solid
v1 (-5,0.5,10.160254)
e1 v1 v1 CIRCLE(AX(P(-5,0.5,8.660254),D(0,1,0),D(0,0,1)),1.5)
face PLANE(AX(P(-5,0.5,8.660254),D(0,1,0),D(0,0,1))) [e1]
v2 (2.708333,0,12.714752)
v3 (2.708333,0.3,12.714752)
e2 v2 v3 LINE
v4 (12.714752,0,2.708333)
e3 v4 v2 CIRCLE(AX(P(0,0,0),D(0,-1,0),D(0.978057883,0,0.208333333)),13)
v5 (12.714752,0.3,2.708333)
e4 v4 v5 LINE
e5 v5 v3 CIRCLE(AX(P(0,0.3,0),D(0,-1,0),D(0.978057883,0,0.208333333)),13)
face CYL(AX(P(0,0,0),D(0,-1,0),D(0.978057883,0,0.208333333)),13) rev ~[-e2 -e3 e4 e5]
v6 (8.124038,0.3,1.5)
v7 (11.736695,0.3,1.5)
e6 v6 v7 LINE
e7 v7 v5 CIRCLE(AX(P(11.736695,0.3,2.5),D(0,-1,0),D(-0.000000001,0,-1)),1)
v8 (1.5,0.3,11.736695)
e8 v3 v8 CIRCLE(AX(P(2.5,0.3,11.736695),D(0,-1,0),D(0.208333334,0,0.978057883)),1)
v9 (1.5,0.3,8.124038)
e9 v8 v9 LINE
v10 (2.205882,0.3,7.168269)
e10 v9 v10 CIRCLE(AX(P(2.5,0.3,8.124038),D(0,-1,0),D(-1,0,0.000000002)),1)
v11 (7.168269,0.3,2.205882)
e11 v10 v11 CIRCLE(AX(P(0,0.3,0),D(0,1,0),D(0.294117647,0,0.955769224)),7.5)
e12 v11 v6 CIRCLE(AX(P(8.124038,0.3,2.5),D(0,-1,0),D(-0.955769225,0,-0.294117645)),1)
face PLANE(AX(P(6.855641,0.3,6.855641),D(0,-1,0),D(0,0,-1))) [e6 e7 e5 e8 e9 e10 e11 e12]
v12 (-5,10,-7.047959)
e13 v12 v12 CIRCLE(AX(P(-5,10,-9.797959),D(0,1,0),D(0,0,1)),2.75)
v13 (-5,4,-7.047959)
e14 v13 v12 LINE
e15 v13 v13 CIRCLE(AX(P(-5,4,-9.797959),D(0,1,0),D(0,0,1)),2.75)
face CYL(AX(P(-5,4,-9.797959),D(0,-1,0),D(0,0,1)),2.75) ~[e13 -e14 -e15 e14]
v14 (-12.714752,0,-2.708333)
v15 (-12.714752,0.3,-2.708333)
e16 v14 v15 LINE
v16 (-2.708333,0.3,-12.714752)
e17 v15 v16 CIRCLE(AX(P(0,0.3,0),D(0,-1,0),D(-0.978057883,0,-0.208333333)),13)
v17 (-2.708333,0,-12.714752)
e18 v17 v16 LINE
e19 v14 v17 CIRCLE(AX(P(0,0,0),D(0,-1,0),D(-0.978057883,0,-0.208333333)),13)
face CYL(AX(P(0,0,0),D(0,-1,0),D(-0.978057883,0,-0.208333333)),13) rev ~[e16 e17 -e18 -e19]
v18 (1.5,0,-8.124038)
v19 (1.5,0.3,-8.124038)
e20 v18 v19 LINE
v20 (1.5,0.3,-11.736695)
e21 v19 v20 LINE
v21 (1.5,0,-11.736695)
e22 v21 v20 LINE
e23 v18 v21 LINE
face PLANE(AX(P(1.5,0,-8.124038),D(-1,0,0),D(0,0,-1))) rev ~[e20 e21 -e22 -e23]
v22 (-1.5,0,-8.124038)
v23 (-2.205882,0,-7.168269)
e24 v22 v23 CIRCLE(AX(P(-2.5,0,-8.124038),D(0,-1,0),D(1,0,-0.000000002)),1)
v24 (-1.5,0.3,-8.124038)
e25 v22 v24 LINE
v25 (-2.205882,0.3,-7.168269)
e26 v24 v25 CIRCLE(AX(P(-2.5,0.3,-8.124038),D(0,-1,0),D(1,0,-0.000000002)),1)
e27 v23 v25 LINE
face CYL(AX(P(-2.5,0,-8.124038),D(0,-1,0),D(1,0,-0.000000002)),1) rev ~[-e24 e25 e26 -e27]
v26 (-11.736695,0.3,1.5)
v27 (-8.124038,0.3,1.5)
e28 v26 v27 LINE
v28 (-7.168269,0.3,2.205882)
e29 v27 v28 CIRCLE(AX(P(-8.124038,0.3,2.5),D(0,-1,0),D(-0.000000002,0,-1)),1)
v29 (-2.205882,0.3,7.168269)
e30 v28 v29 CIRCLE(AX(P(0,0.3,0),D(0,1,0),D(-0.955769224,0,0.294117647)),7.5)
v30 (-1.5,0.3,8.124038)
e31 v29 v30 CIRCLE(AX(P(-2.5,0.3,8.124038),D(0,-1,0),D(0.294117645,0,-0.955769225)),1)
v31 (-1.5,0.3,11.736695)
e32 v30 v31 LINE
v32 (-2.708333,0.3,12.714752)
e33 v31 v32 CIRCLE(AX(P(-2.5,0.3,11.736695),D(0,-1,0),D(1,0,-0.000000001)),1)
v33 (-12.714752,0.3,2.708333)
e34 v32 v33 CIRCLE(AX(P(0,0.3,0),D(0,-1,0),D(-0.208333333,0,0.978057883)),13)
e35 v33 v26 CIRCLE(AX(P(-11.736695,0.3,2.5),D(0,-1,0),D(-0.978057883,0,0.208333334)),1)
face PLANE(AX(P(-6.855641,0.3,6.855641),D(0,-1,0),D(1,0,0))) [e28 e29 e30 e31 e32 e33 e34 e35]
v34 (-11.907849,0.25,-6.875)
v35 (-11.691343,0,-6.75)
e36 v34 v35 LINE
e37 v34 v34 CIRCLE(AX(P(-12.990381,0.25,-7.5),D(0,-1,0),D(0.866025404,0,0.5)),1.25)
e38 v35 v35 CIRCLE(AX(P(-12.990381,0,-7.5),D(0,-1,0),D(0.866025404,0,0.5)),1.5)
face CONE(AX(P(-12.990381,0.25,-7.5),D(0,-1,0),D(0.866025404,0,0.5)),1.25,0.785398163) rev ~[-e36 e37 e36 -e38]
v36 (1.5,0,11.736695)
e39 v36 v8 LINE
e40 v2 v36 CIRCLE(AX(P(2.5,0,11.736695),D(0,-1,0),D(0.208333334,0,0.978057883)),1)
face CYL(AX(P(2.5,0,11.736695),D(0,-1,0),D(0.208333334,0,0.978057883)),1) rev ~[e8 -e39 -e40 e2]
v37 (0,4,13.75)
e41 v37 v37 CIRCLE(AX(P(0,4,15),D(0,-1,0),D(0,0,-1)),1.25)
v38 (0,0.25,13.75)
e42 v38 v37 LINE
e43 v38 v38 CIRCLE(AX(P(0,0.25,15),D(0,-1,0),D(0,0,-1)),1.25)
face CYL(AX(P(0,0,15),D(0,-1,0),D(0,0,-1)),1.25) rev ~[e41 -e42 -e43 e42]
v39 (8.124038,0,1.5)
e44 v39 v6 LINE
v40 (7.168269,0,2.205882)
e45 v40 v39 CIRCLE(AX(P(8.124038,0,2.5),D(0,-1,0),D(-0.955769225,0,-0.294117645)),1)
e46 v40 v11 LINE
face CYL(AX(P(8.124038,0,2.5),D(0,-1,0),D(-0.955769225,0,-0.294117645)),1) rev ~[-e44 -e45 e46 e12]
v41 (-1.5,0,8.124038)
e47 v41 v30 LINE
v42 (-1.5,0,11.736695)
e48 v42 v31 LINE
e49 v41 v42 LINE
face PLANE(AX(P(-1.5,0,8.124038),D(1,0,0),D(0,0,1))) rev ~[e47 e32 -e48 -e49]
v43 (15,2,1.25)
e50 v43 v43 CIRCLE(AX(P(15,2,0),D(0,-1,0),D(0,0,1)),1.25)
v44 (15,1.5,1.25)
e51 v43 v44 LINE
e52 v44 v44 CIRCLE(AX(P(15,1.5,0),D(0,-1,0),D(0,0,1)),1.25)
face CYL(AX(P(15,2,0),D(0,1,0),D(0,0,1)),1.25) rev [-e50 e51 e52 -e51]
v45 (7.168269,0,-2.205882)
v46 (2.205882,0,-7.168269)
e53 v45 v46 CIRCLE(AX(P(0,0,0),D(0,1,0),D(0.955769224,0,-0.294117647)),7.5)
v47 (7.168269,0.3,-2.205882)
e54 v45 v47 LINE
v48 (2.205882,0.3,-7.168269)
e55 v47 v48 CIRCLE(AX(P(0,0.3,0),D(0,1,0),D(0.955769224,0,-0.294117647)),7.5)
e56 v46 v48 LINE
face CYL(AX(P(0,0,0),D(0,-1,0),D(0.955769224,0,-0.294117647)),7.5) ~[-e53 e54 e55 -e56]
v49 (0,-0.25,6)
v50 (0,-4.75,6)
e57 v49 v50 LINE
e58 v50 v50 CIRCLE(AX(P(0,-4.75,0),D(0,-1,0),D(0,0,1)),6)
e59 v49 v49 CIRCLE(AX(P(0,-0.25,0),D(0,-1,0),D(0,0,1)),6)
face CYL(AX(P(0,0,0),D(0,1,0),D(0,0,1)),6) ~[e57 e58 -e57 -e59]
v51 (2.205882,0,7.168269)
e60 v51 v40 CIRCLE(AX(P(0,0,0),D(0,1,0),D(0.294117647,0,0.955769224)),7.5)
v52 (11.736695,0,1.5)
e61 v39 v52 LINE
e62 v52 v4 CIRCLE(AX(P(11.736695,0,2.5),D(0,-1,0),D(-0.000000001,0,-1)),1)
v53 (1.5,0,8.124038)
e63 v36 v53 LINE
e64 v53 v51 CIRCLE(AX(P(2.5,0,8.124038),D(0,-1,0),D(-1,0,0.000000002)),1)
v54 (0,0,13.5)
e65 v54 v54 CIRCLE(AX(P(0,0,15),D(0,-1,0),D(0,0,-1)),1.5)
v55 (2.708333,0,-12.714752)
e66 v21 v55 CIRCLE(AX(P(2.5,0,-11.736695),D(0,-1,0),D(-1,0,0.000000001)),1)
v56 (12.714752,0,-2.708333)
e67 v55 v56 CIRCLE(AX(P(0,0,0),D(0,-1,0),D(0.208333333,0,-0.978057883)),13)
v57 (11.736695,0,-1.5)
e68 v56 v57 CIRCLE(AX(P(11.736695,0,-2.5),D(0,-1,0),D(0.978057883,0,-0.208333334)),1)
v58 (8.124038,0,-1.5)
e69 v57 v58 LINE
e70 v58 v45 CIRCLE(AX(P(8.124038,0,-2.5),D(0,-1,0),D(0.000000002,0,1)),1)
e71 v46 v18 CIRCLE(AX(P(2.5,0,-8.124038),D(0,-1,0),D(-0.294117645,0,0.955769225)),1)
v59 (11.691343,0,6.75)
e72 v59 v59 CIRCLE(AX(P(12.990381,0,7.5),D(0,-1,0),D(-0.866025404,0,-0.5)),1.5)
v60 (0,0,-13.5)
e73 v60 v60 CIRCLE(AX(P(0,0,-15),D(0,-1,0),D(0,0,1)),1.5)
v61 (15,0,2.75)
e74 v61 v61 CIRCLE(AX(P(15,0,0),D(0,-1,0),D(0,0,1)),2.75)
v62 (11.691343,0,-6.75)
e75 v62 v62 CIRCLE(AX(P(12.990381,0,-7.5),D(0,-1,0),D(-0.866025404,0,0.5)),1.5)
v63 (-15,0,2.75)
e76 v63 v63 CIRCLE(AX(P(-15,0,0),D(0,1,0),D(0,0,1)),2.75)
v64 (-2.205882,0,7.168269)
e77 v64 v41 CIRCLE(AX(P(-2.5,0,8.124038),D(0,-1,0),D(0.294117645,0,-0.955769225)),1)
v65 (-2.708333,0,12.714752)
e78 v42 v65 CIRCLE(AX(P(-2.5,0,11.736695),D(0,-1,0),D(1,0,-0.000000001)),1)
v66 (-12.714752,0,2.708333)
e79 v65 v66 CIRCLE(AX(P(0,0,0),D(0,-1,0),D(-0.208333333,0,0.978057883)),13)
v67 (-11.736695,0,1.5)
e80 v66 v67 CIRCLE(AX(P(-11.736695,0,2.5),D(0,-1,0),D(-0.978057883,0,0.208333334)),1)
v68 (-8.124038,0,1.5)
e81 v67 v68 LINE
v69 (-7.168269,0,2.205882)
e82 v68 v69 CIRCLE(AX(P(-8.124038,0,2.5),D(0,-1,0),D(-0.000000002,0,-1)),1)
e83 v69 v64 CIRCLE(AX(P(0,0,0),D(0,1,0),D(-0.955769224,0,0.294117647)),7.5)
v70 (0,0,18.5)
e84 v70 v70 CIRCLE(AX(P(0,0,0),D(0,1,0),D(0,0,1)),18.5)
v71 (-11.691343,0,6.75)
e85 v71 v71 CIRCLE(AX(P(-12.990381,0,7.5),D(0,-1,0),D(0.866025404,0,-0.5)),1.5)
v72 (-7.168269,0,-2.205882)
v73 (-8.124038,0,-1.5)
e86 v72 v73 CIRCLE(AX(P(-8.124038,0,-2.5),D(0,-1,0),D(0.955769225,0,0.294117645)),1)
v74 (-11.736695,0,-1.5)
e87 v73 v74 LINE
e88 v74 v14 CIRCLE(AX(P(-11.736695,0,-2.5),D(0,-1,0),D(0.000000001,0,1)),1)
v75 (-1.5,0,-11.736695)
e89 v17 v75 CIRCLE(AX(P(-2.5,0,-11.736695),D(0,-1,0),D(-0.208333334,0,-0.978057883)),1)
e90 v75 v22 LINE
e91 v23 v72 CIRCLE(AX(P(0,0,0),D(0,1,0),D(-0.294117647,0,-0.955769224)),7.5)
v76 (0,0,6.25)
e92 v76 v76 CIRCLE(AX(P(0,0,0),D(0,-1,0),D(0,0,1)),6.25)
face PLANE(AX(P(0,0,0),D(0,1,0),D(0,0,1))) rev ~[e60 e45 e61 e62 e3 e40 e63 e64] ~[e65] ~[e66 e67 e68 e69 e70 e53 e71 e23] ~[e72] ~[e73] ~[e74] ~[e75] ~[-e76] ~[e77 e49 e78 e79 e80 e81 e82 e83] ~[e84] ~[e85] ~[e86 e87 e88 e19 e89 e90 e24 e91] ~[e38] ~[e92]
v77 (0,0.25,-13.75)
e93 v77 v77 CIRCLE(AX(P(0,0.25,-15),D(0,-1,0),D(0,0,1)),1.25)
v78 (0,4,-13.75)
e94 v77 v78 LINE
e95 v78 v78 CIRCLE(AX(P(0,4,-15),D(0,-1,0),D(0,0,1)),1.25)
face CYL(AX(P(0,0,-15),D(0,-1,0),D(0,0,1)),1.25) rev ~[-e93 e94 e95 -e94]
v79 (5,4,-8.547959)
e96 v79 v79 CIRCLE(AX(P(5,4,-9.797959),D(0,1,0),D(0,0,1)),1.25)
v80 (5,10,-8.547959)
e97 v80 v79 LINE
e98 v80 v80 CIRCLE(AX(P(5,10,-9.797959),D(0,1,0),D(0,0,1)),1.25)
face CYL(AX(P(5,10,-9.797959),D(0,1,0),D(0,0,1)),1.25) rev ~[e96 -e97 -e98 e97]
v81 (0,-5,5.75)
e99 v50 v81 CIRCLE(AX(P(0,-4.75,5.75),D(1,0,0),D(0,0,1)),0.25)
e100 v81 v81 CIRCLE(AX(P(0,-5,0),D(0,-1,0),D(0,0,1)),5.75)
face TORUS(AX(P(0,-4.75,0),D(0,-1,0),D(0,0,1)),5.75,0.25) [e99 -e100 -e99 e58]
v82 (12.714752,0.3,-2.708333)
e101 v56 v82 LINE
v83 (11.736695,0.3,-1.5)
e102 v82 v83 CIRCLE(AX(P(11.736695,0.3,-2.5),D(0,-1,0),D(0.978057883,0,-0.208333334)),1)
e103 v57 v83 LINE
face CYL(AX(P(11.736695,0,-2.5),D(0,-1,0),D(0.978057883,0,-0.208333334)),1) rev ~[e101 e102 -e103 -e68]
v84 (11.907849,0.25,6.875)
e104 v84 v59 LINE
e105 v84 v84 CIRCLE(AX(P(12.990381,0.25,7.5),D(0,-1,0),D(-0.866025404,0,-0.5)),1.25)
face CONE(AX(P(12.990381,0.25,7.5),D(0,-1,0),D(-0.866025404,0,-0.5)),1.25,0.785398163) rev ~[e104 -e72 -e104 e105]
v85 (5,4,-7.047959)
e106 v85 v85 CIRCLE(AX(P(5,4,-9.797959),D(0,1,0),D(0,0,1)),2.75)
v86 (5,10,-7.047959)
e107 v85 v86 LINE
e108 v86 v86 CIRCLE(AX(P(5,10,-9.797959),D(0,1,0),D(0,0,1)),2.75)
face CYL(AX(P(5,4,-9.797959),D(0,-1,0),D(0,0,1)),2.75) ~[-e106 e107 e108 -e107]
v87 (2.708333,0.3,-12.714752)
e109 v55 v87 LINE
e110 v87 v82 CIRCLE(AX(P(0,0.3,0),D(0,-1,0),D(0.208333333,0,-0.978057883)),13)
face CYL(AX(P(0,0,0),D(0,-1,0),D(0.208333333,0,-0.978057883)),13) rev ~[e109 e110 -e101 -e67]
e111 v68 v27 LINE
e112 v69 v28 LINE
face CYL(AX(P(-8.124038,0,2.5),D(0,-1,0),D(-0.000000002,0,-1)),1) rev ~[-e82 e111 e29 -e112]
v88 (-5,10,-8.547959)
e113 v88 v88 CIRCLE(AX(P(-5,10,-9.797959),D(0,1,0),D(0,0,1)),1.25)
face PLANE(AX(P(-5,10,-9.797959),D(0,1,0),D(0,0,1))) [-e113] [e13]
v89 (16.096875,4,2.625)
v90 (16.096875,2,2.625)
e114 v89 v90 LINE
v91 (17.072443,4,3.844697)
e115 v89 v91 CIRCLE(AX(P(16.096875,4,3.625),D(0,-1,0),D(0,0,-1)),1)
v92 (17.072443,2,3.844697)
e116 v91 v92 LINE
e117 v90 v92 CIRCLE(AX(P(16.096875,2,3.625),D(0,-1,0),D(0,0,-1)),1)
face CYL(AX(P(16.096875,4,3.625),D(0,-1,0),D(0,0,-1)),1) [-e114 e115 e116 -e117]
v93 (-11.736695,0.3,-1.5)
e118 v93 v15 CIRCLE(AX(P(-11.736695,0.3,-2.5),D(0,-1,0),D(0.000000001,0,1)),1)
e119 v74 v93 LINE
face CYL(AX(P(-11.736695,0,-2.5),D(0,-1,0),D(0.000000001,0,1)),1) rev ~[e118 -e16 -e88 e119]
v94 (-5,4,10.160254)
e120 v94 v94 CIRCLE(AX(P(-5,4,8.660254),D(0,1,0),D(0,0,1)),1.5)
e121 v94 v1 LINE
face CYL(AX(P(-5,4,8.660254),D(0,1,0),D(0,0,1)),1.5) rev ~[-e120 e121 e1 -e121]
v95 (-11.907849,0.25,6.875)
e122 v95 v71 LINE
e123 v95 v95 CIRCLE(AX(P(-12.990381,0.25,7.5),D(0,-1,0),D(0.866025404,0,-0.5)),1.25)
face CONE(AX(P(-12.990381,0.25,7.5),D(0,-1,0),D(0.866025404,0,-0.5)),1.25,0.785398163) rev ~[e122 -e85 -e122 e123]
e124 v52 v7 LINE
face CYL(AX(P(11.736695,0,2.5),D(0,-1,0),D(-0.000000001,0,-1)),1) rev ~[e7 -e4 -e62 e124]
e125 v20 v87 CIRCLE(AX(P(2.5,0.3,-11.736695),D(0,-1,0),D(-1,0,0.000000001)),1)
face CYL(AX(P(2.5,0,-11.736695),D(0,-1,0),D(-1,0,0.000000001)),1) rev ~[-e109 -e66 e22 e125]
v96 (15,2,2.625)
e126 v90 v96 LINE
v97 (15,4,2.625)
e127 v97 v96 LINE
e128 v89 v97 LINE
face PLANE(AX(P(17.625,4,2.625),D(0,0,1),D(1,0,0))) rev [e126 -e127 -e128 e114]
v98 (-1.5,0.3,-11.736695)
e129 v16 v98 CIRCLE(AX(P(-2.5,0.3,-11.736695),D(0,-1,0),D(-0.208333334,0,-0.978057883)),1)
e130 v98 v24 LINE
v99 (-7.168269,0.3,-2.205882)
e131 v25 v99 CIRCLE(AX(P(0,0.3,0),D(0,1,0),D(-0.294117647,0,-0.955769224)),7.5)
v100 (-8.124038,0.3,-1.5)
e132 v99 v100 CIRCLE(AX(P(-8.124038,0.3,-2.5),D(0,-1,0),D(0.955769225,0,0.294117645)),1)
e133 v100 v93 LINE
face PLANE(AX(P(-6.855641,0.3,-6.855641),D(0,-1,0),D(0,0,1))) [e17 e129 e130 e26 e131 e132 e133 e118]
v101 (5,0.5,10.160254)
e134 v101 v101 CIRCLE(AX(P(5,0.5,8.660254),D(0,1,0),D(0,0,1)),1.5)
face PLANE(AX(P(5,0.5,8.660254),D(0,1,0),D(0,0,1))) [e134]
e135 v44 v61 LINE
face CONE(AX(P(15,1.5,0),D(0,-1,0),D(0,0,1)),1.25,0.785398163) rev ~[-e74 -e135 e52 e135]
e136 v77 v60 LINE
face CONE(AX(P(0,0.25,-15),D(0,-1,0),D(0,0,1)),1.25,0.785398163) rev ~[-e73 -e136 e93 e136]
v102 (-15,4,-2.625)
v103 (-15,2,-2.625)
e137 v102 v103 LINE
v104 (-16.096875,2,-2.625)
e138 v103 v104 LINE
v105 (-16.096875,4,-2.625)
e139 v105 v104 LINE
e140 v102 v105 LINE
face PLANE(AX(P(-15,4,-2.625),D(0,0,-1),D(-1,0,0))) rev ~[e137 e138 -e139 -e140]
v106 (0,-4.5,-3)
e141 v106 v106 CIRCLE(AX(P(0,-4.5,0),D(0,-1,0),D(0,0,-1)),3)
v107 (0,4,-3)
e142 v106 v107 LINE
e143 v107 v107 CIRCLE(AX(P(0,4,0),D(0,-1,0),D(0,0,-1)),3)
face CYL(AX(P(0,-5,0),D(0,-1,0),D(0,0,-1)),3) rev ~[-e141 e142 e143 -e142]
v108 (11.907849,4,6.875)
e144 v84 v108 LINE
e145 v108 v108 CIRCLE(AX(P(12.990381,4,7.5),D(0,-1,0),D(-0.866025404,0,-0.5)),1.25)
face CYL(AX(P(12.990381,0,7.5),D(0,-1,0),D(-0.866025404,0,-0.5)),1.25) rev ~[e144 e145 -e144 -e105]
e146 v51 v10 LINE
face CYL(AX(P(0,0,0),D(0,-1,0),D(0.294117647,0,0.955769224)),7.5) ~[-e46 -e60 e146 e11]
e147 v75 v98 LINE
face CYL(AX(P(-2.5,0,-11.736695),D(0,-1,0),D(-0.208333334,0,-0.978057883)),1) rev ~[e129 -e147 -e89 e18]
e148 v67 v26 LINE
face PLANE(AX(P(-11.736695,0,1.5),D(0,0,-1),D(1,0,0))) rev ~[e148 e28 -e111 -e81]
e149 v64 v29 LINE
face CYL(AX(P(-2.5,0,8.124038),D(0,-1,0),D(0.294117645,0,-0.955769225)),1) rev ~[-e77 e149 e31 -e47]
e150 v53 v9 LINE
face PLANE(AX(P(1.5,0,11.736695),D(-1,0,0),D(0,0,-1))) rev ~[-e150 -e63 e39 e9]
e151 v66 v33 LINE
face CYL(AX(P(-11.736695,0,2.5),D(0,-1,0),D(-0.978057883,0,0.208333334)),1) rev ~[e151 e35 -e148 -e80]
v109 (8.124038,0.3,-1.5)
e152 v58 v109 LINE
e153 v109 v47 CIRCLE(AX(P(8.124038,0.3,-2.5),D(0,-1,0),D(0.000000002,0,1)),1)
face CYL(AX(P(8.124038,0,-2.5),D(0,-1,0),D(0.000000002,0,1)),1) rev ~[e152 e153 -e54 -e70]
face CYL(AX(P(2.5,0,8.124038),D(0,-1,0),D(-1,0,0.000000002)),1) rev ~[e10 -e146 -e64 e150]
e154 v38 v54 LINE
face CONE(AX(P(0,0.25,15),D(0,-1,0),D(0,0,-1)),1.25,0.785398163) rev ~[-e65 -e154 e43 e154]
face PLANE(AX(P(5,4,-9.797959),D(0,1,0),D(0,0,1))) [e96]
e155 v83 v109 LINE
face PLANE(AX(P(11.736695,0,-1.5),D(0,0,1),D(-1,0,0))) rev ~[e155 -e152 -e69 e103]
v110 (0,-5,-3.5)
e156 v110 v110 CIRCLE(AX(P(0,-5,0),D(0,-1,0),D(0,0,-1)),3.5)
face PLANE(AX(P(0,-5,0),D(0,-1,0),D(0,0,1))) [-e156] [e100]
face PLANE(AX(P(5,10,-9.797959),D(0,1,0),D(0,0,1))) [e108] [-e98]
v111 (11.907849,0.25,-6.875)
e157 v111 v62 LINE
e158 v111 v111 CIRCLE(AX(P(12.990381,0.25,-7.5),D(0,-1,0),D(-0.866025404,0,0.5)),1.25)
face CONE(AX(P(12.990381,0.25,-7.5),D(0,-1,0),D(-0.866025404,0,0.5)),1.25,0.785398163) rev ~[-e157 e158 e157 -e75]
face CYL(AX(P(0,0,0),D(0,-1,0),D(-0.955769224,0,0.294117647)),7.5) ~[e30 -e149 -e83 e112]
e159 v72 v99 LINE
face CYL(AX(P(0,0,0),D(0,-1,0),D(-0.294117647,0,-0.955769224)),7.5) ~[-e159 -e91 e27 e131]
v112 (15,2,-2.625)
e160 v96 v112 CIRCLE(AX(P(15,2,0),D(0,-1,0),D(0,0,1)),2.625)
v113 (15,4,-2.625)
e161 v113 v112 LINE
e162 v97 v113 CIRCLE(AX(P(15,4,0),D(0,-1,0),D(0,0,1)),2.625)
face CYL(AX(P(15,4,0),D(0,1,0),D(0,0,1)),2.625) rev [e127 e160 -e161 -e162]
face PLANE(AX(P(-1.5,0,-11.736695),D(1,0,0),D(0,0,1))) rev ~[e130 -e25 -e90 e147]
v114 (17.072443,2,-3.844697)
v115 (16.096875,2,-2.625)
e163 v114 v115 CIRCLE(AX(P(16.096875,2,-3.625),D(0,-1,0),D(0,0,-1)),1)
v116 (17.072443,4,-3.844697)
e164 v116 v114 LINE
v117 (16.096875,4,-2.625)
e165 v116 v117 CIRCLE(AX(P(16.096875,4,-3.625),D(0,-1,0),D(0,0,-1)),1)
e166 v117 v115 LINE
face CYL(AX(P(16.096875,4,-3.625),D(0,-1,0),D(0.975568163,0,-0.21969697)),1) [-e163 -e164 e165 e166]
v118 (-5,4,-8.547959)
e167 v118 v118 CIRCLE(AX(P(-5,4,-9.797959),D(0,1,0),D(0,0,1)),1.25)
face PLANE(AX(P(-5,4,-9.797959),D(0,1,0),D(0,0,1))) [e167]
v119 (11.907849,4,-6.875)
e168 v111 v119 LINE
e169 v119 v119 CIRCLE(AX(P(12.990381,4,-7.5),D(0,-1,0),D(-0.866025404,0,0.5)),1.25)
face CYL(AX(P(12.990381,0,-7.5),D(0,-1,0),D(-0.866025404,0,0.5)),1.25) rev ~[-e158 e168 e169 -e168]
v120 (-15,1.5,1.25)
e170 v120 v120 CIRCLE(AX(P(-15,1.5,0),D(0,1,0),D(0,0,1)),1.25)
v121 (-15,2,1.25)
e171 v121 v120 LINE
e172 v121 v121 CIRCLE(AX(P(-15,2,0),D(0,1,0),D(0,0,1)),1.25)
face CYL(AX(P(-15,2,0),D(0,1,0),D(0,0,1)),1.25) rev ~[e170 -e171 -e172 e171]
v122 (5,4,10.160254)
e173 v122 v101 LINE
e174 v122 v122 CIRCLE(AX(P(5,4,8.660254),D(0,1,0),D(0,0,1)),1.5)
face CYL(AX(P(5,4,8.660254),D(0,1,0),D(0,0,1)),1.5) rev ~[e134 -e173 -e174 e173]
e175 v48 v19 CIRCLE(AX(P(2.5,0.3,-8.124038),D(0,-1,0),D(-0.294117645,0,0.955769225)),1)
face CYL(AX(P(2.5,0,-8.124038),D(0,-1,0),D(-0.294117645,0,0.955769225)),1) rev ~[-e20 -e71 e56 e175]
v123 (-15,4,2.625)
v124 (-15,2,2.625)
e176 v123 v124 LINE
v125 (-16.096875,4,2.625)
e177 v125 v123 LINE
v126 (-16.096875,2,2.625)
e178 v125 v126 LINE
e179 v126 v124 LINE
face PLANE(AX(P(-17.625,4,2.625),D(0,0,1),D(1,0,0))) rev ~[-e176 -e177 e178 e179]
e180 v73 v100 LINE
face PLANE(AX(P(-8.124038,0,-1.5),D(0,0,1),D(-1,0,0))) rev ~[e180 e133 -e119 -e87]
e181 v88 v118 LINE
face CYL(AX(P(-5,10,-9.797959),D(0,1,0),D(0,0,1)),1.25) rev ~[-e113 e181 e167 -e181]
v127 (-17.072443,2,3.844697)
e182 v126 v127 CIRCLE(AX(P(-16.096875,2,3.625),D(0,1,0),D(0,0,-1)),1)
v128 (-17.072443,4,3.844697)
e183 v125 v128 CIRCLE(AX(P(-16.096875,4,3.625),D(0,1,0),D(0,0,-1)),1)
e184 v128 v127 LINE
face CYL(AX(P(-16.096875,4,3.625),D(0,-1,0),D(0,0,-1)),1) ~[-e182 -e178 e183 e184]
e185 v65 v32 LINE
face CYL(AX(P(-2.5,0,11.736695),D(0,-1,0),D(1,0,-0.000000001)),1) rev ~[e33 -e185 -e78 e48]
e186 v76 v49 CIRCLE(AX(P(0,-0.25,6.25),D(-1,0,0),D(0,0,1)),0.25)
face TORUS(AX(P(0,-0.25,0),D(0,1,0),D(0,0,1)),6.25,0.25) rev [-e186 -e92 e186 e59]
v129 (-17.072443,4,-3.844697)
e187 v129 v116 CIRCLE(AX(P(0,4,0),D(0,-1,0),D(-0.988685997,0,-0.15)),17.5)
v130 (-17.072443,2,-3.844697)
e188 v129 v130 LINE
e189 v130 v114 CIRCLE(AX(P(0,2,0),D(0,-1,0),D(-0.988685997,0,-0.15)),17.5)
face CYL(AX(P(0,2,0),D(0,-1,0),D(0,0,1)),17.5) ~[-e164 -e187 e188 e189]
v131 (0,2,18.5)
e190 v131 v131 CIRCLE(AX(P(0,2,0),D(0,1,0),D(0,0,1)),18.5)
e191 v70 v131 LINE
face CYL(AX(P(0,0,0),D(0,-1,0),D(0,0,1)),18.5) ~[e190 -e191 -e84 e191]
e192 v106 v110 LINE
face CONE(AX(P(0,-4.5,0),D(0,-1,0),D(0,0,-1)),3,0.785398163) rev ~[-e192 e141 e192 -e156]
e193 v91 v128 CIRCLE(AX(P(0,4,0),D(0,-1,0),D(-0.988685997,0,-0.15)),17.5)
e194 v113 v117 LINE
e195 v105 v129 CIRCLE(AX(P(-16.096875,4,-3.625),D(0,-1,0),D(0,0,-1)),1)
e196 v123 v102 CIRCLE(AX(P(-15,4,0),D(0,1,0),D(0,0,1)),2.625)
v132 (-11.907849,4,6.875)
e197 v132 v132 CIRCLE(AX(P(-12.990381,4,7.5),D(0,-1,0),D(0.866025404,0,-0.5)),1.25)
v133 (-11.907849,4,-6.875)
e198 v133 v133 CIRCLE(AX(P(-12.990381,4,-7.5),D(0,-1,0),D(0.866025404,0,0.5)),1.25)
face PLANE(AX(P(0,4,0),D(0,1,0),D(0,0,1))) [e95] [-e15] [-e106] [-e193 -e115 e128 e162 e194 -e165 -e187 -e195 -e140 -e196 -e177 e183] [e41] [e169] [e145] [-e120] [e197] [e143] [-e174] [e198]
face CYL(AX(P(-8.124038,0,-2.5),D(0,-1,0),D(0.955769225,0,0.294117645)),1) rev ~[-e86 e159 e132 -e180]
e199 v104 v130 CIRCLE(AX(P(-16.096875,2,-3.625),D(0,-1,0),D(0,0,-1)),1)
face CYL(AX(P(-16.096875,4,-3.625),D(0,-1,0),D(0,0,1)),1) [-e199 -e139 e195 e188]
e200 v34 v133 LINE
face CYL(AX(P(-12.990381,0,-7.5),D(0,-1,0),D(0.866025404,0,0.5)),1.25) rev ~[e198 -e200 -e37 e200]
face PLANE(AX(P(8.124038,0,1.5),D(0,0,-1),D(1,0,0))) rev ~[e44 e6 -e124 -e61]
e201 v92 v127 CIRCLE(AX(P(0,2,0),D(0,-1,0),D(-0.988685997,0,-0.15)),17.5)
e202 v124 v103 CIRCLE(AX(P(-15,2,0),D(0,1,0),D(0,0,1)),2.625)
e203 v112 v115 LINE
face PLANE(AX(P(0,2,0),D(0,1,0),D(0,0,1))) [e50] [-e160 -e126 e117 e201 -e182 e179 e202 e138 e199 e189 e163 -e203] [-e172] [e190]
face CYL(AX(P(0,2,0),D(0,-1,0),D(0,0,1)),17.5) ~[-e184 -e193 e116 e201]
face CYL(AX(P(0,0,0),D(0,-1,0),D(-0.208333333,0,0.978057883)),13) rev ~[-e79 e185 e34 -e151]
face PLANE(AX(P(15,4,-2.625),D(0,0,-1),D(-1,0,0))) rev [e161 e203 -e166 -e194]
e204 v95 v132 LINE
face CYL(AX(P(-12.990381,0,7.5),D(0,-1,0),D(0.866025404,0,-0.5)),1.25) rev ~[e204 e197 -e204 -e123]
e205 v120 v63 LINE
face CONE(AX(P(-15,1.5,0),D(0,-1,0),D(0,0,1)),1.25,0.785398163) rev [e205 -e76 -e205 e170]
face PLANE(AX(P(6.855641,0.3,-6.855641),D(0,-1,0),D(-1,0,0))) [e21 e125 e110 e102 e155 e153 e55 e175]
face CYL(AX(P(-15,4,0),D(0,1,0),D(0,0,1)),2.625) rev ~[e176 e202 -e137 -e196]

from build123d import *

# Parameters (mm, degrees)
SKETCH1_R            = 18.5
BOSS_EXTRUDE1_DEPTH  = 2
SKETCH2_R            = 17.5
BOSS_EXTRUDE2_DEPTH  = 2
SKETCH3_R            = 6
BOSS_EXTRUDE3_DEPTH  = 5
CUT_EXTRUDE1_REACH   = 29.668
SKETCH4_R            = 3
CUT_EXTRUDE4_DEPTH   = 2
FILLET1_R            = 1
CUT_EXTRUDE5_REACH   = 29.083
SKETCH6_R            = 1.25
FILLET1_OF_MIRROR1_R = 1
CHAMFER1_SIZE        = 1.5
CUT_EXTRUDE6_REACH   = 28.636
SKETCH7_R            = 1.25
CIRPATTERN1_COUNT    = 6
SKETCH9_R            = 1.5
CUT_EXTRUDE7_DEPTH   = 3.5
SKETCH10_R           = 2.75
BOSS_EXTRUDE4_DEPTH  = 6
SKETCH11_R           = 1.25
CUT_EXTRUDE8_DEPTH   = 6
FILLET2_R            = 0.25
CHAMFER2_SIZE        = 0.5
CUT_EXTRUDE9_DEPTH   = 0.3
CIRPATTERN2_COUNT    = 4
CHAMFER3_SIZE        = 0.25


with BuildPart() as part:
    # Sketch1 → Boss-Extrude1 (new body)
    with BuildSketch(Plane(origin=(0, 0, 0), x_dir=(1, 0, 0), z_dir=(0, 1, 0))):
        with Locations(Location((0, 0, 0), (0, 0, 270))):
            Circle(SKETCH1_R)
    extrude(amount=BOSS_EXTRUDE1_DEPTH)

    # Sketch2 → Boss-Extrude2 (add)
    with BuildSketch(Plane(origin=(0, 2, 0), x_dir=(1, 0, 0), z_dir=(0, 1, 0))):
        with Locations(Location((0, 0, 0), (0, 0, 270))):
            Circle(SKETCH2_R)
    extrude(amount=BOSS_EXTRUDE2_DEPTH)

    # Sketch3 → Boss-Extrude3 (add)
    with BuildSketch(Plane.XZ):
        with Locations(Location((0, 0, 0), (0, 0, 90))):
            Circle(SKETCH3_R)
    extrude(amount=BOSS_EXTRUDE3_DEPTH)

    # Sketch4 → Cut-Extrude1 (cut, up to next)
    with BuildSketch(Plane.XZ.offset(5), mode=Mode.PRIVATE) as cut_extrude1_sk1:
        with Locations(Location((0, 0, 0), (0, 0, 270))):
            Circle(SKETCH4_R)
    cut_extrude1_tool1 = extrude(cut_extrude1_sk1.sketch, amount=-CUT_EXTRUDE1_REACH, mode=Mode.PRIVATE) & part.part
    add(cut_extrude1_tool1.solids().sort_by_distance((0, -5, 0))[0], mode=Mode.SUBTRACT)

    # Sketch5 → Cut-Extrude4 (cut)
    with BuildSketch(Plane(origin=(0, 4, 0), x_dir=(1, 0, 0), z_dir=(0, 1, 0))):
        with BuildLine():
            Line((-17.625, 2.625), (-17.625, -2.625))
            Line((-17.625, -2.625), (-15, -2.625))
            ThreePointArc((-15, -2.625), (-12.375, 0), (-15, 2.625))
            Line((-15, 2.625), (-17.625, 2.625))
        make_face()
    cut_extrude4 = extrude(amount=-CUT_EXTRUDE4_DEPTH, mode=Mode.SUBTRACT)

    # Fillet1
    fillet1_edges = [part.edges().sort_by_distance(p)[0] for p in [
        (-17.302004942, 3, -2.625),
        (-17.302004942, 3, 2.625),
    ]]
    fillet(fillet1_edges, radius=FILLET1_R)

    # Sketch6 → Cut-Extrude5 (cut, up to next)
    with BuildSketch(Plane(origin=(0, 2, 0), x_dir=(1, 0, 0), z_dir=(0, 1, 0)), mode=Mode.PRIVATE) as cut_extrude5_sk1:
        with Locations(Location((-15, 0, 0), (0, 0, 270))):
            Circle(SKETCH6_R)
    cut_extrude5_tool1 = extrude(cut_extrude5_sk1.sketch, amount=-CUT_EXTRUDE5_REACH, mode=Mode.PRIVATE) & part.part
    cut_extrude5 = cut_extrude5_tool1.solids().sort_by_distance((-15, 2, 0))[0]
    add(cut_extrude5, mode=Mode.SUBTRACT)

    # Mirror1: Cut-Extrude4, Cut-Extrude5 across plane
    add(cut_extrude4.mirror(Plane(origin=(0, 0, 0), x_dir=(0, 0, 1), z_dir=(1, 0, 0))), mode=Mode.SUBTRACT)
    add(cut_extrude5.mirror(Plane(origin=(0, 0, 0), x_dir=(0, 0, 1), z_dir=(1, 0, 0))), mode=Mode.SUBTRACT)

    # Fillet1 of Mirror1
    fillet1_of_mirror1_edges = [part.edges().sort_by_distance(p)[0] for p in [
        (17.302004942, 3, -2.625),
        (17.302004942, 3, 2.625),
    ]]
    fillet(fillet1_of_mirror1_edges, radius=FILLET1_OF_MIRROR1_R)

    # Chamfer1
    chamfer1_edges = [part.edges().sort_by_distance(p)[0] for p in [
        (-15, 0, -1.25),
        (15, 0, -1.25),
    ]]
    chamfer(chamfer1_edges, length=CHAMFER1_SIZE)

    # Sketch7 → Cut-Extrude6 (cut, up to next)
    with BuildSketch(Plane.XZ, mode=Mode.PRIVATE) as cut_extrude6_sk1:
        with Locations(Location((0, 15, 0), (0, 0, 270))):
            Circle(SKETCH7_R)
    cut_extrude6_tool1 = extrude(cut_extrude6_sk1.sketch, amount=-CUT_EXTRUDE6_REACH, mode=Mode.PRIVATE) & part.part
    cut_extrude6 = cut_extrude6_tool1.solids().sort_by_distance((0, 0, 15))[0]
    add(cut_extrude6, mode=Mode.SUBTRACT)

    # CirPattern1: Cut-Extrude6 ×6 about axis
    cirpattern1_axis = Axis((0, 0, 0), (0, 1, 0))
    for i in range(1, CIRPATTERN1_COUNT):
        add(cut_extrude6.rotate(cirpattern1_axis, i * 360 / CIRPATTERN1_COUNT), mode=Mode.SUBTRACT)

    # Sketch9 → Cut-Extrude7 (cut)
    with BuildSketch(Plane(origin=(0, 4, 0), x_dir=(1, 0, 0), z_dir=(0, 1, 0))):
        with Locations(Location((-5, -8.660254038, 0), (0, 0, 270))):
            Circle(SKETCH9_R)
        with Locations(Location((5, -8.660254038, 0), (0, 0, 270))):
            Circle(SKETCH9_R)
    extrude(amount=-CUT_EXTRUDE7_DEPTH, mode=Mode.SUBTRACT)

    # Sketch10 → Boss-Extrude4 (add)
    with BuildSketch(Plane(origin=(0, 4, 0), x_dir=(1, 0, 0), z_dir=(0, 1, 0))):
        with Locations(Location((-5, 9.797958971, 0), (0, 0, 270))):
            Circle(SKETCH10_R)
        with Locations(Location((5, 9.797958971, 0), (0, 0, 270))):
            Circle(SKETCH10_R)
    extrude(amount=BOSS_EXTRUDE4_DEPTH)

    # Sketch11 → Cut-Extrude8 (cut)
    with BuildSketch(Plane(origin=(0, 10, 0), x_dir=(1, 0, 0), z_dir=(0, 1, 0))):
        with Locations(Location((-5, 9.797958971, 0), (0, 0, 270))):
            Circle(SKETCH11_R)
        with Locations(Location((5, 9.797958971, 0), (0, 0, 270))):
            Circle(SKETCH11_R)
    extrude(amount=-CUT_EXTRUDE8_DEPTH, mode=Mode.SUBTRACT)

    # Fillet2
    fillet2_edges = [part.edges().sort_by_distance(p)[0] for p in [
        (0, 0, -6),
        (0, -5, -6),
    ]]
    fillet(fillet2_edges, radius=FILLET2_R)

    # Chamfer2
    chamfer2_edges = [part.edges().sort_by_distance(p)[0] for p in [
        (0, -5, 3),
    ]]
    chamfer(chamfer2_edges, length=CHAMFER2_SIZE)

    # Sketch12 → Cut-Extrude9 (cut)
    with BuildSketch(Plane.XZ):
        with BuildLine():
            Line((-11.736694594, 1.5), (-8.124038405, 1.5))
            ThreePointArc((-8.124038405, 1.5), (-7.529949879, 1.695600333), (-7.168269181, 2.205882353))
            ThreePointArc((-7.168269181, 2.205882353), (-5.303300859, 5.303300859), (-2.205882353, 7.168269181))
            ThreePointArc((-2.205882353, 7.168269181), (-1.695600333, 7.529949879), (-1.5, 8.124038405))
            Line((-1.5, 8.124038405), (-1.5, 11.736694594))
            ThreePointArc((-1.5, 11.736694594), (-1.87084713, 12.513976182), (-2.708333333, 12.714752477))
            ThreePointArc((-2.708333333, 12.714752477), (-9.192388155, 9.192388155), (-12.714752477, 2.708333333))
            ThreePointArc((-12.714752477, 2.708333333), (-12.513976182, 1.87084713), (-11.736694594, 1.5))
        make_face()
    cut_extrude9 = extrude(amount=-CUT_EXTRUDE9_DEPTH, mode=Mode.SUBTRACT)

    # CirPattern2: Cut-Extrude9 ×4 about axis
    cirpattern2_axis = Axis((0, 0, 0), (0, 1, 0))
    for i in range(1, CIRPATTERN2_COUNT):
        add(cut_extrude9.rotate(cirpattern2_axis, i * 360 / CIRPATTERN2_COUNT), mode=Mode.SUBTRACT)

    # Chamfer3
    chamfer3_edges = [part.edges().sort_by_distance(p)[0] for p in [
        (0, 0, 16.25),
        (14.072912811, 0, 8.125),
        (14.072912811, 0, -8.125),
        (0, 0, -16.25),
        (-14.072912811, 0, -8.125),
        (-14.072912811, 0, 8.125),
    ]]
    chamfer(chamfer3_edges, length=CHAMFER3_SIZE)


solid = part.part
